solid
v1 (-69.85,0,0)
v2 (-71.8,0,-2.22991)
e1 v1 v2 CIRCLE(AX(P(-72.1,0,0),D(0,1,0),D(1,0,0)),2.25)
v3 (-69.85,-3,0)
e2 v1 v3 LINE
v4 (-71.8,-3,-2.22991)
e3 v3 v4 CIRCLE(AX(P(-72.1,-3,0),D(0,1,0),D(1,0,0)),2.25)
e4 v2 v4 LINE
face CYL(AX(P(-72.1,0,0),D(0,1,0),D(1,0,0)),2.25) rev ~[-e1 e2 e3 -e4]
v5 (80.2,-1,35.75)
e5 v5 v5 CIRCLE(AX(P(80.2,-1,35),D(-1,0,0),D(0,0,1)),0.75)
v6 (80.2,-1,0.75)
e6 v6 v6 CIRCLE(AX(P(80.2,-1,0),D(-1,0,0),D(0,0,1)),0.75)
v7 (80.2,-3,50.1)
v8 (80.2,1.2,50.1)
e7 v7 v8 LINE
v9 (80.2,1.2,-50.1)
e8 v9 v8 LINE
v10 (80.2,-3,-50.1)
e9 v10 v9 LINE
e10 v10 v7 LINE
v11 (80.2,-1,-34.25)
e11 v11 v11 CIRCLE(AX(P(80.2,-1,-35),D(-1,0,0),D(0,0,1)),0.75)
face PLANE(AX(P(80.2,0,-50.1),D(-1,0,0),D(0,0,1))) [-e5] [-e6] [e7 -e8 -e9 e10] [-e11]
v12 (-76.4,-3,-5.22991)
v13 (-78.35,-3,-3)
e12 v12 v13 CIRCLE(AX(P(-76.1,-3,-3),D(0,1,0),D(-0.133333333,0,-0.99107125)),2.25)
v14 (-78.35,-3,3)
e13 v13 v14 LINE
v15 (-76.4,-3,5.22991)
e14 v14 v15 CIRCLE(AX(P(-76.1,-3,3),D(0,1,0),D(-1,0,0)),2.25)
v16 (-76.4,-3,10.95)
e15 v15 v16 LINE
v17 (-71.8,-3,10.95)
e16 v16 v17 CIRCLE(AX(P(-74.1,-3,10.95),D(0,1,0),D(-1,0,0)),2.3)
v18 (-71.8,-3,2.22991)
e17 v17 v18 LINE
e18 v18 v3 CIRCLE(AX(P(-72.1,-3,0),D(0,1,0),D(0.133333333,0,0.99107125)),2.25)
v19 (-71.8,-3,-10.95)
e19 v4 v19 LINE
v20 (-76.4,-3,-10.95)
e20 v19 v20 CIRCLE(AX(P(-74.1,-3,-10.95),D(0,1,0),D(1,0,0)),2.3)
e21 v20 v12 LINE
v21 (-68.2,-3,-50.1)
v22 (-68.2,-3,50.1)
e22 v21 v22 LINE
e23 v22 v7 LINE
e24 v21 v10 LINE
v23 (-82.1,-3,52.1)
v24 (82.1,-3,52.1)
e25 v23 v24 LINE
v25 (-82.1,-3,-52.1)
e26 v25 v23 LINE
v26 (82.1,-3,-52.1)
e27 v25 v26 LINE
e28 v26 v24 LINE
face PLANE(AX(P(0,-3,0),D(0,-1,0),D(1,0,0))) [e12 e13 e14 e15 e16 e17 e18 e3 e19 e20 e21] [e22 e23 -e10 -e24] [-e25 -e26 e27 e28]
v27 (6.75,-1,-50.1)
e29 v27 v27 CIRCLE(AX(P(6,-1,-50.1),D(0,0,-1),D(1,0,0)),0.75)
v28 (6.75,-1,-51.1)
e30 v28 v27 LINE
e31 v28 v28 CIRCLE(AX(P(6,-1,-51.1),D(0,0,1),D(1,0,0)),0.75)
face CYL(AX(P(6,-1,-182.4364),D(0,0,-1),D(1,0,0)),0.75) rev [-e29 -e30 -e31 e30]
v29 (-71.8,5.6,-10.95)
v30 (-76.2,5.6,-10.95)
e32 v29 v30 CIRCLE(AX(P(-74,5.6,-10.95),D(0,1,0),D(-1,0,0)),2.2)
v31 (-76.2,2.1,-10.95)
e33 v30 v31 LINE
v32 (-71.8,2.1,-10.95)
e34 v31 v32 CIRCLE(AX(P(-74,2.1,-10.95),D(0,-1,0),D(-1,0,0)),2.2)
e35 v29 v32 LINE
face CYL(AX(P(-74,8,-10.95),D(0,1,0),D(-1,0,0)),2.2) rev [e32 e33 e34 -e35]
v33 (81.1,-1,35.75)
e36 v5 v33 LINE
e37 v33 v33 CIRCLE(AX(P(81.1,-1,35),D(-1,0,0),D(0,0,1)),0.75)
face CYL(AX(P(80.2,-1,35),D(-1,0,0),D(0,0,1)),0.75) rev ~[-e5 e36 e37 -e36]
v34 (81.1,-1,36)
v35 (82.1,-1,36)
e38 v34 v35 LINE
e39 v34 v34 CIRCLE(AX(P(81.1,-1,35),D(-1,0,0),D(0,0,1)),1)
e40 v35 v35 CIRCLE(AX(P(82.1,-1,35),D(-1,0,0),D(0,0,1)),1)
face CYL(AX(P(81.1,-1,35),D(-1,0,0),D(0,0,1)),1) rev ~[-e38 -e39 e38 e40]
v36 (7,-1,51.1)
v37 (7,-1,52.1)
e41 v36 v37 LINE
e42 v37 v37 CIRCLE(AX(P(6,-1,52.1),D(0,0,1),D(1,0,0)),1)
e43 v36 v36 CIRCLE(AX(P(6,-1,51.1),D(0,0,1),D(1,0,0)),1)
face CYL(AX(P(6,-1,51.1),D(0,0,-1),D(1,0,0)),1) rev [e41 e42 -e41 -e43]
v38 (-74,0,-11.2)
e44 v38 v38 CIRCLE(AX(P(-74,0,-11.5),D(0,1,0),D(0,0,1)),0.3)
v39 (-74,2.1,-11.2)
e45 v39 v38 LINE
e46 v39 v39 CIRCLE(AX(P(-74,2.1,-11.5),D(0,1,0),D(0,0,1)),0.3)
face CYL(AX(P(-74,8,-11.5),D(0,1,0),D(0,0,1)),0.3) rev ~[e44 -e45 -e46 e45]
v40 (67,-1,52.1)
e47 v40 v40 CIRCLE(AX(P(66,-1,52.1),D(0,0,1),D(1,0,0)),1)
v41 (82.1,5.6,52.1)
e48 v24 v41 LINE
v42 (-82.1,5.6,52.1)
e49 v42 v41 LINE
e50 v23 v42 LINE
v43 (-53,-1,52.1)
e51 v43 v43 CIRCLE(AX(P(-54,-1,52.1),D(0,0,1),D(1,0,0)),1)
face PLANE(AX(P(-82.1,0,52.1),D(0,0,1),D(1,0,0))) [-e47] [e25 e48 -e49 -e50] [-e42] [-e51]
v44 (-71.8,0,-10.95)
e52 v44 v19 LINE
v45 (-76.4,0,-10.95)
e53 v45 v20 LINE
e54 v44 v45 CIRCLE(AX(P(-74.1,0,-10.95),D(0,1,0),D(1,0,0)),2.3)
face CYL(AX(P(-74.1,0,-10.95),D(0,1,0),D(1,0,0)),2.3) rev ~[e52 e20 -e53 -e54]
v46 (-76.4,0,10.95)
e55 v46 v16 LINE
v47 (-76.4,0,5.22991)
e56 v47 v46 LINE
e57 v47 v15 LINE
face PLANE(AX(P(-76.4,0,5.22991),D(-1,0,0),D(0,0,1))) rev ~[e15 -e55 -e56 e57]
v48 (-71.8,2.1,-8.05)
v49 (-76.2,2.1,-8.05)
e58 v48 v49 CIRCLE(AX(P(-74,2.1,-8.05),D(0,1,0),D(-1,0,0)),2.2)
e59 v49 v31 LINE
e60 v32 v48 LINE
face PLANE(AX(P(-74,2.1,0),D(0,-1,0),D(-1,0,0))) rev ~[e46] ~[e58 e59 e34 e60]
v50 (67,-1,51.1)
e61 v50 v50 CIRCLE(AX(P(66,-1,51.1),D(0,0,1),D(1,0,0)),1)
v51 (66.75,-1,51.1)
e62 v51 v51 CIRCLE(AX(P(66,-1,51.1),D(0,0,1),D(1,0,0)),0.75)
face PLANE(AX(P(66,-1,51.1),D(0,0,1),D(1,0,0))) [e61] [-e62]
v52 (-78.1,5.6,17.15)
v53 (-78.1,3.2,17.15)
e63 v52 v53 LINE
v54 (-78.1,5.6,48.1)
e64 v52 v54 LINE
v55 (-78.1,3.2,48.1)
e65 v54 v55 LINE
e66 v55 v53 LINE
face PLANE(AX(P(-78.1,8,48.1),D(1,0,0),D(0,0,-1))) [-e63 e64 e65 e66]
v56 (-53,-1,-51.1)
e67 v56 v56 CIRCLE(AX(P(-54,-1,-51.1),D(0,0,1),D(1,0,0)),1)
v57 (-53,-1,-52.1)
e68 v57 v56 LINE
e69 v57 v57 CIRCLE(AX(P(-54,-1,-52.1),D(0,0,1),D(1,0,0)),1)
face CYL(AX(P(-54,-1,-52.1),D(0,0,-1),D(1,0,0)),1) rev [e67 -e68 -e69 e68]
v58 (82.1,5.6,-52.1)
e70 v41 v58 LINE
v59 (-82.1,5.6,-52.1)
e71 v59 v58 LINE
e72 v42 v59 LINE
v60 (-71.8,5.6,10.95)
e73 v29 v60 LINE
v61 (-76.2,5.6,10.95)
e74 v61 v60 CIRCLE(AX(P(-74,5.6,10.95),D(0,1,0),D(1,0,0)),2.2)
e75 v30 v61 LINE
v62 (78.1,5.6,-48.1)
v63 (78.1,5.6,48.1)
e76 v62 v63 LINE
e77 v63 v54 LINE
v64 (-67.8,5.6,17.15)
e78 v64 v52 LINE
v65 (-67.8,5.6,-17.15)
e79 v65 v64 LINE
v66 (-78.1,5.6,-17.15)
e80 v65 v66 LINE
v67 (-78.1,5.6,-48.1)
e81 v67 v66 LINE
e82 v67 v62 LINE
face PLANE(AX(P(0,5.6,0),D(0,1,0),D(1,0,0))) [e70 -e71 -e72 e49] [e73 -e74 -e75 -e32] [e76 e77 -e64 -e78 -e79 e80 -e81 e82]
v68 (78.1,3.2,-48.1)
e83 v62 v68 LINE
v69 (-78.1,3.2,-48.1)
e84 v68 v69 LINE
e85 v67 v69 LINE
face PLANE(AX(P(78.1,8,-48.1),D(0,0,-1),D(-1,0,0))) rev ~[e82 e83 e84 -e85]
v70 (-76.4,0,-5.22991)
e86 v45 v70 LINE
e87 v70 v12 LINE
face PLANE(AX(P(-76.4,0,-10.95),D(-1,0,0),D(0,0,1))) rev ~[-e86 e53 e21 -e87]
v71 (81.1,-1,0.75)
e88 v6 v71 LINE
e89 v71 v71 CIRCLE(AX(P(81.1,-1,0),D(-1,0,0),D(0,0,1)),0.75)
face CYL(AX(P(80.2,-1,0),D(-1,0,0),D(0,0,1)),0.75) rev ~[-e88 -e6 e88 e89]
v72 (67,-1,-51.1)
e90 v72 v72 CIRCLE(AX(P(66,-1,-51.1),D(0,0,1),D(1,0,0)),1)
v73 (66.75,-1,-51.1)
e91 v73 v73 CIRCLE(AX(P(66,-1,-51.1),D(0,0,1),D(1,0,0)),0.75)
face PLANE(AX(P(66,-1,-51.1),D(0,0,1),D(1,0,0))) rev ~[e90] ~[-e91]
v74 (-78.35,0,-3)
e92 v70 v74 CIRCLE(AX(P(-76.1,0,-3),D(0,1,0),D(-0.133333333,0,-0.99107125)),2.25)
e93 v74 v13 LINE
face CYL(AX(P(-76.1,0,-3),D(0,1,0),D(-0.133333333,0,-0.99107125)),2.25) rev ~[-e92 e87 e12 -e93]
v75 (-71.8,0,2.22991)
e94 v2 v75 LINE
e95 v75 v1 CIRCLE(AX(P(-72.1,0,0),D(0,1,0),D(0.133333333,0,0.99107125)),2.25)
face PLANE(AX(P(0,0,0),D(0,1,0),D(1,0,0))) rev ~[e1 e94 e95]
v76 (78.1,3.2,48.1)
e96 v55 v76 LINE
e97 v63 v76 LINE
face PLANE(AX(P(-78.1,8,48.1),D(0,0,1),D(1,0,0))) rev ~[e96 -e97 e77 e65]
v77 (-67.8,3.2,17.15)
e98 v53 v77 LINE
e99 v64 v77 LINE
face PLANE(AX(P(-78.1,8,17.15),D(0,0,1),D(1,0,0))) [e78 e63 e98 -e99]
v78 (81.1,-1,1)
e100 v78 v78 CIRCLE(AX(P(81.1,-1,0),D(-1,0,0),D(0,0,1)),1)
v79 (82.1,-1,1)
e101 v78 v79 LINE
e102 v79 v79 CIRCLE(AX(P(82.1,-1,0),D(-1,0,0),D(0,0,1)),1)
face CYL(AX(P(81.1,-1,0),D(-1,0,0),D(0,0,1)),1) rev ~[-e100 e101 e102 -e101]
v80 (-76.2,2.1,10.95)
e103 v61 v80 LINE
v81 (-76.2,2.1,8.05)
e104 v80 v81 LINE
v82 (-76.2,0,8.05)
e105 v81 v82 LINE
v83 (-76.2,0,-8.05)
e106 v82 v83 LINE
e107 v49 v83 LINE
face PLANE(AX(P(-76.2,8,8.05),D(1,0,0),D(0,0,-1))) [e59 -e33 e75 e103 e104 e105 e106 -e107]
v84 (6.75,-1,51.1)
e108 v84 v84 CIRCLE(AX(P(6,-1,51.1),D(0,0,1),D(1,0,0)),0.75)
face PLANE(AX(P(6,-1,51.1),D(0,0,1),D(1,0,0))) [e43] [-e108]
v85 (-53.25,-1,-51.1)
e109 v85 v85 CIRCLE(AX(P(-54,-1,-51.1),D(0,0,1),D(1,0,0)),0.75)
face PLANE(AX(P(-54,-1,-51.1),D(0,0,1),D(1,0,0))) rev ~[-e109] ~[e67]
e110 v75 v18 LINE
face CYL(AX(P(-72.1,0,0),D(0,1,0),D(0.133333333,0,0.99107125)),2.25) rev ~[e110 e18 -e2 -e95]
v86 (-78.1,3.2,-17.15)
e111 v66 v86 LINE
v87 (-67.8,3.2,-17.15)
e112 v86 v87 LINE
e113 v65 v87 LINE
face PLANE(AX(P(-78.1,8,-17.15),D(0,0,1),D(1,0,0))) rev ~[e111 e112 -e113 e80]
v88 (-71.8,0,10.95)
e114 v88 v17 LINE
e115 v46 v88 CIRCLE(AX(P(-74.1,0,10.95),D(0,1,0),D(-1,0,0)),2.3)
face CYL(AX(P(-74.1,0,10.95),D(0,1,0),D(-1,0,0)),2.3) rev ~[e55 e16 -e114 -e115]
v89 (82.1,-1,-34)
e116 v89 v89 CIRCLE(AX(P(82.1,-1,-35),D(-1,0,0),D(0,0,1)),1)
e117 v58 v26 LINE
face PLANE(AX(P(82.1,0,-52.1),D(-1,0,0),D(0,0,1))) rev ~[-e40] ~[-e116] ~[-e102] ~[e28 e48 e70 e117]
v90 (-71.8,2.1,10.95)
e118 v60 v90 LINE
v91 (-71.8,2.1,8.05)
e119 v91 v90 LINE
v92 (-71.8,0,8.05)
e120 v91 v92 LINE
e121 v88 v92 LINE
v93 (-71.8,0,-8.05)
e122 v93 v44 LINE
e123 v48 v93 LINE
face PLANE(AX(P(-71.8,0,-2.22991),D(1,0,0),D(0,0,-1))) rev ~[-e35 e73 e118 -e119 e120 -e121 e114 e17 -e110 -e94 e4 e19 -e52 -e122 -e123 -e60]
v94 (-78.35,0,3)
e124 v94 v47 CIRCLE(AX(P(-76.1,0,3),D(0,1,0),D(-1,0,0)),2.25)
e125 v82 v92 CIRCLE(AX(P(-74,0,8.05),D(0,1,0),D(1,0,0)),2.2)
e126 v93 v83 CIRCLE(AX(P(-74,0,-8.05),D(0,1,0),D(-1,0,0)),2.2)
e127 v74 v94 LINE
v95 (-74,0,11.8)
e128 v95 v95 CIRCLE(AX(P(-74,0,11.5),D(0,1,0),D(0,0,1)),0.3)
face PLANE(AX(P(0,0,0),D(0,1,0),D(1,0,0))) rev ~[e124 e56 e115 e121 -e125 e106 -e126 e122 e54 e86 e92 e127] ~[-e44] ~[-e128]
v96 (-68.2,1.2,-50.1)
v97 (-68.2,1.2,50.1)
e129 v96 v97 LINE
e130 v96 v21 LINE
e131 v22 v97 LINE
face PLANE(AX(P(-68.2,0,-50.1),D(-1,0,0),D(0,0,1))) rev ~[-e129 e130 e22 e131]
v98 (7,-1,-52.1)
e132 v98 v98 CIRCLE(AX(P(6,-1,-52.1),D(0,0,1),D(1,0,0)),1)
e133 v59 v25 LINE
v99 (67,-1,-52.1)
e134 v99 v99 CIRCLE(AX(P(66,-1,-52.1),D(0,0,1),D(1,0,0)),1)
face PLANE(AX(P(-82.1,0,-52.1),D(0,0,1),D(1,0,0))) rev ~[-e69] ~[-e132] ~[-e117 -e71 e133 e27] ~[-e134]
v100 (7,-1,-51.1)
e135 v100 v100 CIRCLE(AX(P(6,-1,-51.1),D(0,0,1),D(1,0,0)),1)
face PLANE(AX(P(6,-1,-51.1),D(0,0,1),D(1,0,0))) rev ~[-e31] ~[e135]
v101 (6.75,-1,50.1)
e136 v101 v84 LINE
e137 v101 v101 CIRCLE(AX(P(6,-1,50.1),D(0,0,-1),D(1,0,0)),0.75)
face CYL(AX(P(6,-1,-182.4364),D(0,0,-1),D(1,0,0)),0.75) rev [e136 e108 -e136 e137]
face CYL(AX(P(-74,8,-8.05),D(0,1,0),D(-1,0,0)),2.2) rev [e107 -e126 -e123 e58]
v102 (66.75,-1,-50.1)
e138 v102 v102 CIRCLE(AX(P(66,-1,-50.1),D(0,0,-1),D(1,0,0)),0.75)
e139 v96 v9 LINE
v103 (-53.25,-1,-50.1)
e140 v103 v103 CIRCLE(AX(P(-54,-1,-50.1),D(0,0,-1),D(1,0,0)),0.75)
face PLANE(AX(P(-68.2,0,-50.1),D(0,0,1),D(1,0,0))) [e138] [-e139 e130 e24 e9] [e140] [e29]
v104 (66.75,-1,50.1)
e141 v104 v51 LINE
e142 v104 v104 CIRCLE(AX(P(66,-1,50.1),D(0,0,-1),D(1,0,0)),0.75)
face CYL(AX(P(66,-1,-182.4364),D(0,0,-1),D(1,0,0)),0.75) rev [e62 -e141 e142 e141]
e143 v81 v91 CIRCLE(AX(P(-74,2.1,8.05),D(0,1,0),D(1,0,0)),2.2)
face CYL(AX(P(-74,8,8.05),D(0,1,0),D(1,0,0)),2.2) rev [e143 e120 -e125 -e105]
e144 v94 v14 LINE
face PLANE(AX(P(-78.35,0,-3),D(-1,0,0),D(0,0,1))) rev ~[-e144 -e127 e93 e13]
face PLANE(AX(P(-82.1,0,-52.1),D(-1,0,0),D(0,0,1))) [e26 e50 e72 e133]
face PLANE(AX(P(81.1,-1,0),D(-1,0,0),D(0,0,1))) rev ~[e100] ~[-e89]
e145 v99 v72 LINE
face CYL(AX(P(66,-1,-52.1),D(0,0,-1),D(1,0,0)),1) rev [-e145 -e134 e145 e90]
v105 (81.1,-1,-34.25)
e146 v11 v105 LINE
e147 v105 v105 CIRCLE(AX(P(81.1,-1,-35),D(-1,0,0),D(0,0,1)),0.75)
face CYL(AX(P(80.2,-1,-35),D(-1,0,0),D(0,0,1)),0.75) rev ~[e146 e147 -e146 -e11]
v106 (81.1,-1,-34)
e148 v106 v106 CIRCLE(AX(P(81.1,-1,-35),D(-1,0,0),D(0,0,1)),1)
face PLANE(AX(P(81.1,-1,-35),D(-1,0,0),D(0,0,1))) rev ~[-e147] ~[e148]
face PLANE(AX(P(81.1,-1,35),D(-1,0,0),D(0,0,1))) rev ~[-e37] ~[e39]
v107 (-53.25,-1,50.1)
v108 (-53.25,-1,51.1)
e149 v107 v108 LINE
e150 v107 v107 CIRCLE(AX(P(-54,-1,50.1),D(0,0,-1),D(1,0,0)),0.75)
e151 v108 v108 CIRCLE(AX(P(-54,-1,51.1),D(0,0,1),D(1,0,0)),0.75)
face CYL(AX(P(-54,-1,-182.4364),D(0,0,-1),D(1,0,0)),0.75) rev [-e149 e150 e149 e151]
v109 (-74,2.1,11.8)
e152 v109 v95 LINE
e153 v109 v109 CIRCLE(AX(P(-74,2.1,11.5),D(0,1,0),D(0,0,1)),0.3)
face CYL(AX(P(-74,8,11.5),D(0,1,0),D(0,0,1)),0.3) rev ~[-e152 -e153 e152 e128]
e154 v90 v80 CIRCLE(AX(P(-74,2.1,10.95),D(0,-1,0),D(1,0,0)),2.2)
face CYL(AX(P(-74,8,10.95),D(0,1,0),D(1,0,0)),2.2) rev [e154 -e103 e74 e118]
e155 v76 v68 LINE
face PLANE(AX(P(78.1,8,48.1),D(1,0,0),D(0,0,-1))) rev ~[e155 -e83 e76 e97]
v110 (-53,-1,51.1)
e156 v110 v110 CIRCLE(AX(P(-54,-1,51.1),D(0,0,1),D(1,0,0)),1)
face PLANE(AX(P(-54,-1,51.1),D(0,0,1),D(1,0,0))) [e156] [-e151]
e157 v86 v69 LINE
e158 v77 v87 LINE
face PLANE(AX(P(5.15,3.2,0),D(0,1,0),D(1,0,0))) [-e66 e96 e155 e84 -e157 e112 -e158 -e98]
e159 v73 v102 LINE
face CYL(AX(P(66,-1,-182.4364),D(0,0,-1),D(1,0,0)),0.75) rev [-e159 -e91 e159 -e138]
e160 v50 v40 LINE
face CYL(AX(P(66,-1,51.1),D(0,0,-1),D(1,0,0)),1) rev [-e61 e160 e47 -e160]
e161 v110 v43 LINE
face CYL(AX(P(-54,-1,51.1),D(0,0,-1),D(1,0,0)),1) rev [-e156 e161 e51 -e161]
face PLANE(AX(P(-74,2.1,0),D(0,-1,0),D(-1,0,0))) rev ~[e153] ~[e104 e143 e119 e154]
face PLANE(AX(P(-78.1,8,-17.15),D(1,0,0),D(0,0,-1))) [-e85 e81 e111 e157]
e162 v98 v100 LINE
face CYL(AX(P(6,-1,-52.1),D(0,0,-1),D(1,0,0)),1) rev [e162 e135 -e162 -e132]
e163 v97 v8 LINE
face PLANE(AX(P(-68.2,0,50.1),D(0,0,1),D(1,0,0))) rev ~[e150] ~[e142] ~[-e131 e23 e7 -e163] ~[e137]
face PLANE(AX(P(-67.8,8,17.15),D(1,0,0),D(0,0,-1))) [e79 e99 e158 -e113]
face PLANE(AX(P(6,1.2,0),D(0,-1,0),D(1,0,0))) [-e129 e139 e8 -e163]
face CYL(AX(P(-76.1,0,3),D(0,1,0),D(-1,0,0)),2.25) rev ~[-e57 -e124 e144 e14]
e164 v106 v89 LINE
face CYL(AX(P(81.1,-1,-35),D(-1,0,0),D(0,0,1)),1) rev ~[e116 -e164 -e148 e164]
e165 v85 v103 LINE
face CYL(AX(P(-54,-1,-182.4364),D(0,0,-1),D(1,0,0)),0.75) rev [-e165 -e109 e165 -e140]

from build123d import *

# Parameters (mm, degrees)
SKETCH_1_W               = 164.2
SKETCH_1_H               = 104.2
EXTRUDE_1_DEPTH          = 8
SKETCH_2_R               = 0.3
CUT_EXTRUDE_1_DEPTH      = 98.564440243
CUT_EXTRUDE_2_DEPTH      = 5.9
SKETCH_5_W               = 148.4
SKETCH_5_H               = 100.2
CUT_EXTRUDE_5_DEPTH      = 1.2
SKETCH_6_W               = 164.2
SKETCH_6_H               = 104.2
SKETCH_6_W_2             = 148.4
SKETCH_6_H_2             = 100.2
EXTRUDE_2_DEPTH          = 3
CUT_EXTRUDE_6_DEPTH      = 132.336400133
CUT_EXTRUDE_6_DEPTH_BACK = 132.336400133
SKETCH_7_R               = 0.75
CUT_EXTRUDE_START        = -2
SKETCH_7_3_R             = 1
SKETCH_7_3_R_2           = 0.75
CUT_EXTRUDE_7_DEPTH      = 1
CUT_EXTRUDE_START_2      = 101.2
SKETCH_7_4_R             = 1
SKETCH_7_4_R_2           = 0.75
CUT_EXTRUDE_8_DEPTH      = 1
SKETCH_8_R               = 0.75
CUT_EXTRUDE_9_DEPTH      = 171.644953046
CUT_EXTRUDE_START_3      = -0.9
SKETCH_8_3_R             = 1
SKETCH_8_3_R_2           = 0.75
CUT_EXTRUDE_10_DEPTH     = 1
SKETCH_3_W               = 145.9
SKETCH_3_H               = 96.2
SKETCH_3_W_2             = 10.3
SKETCH_3_H_2             = 30.95
CUT_EXTRUDE_11_DEPTH     = 4.8
SKETCH_9_W               = 164.2
SKETCH_9_H               = 104.2
CUT_EXTRUDE_12_DEPTH     = 2.4


with BuildPart() as part:
    # 草图1 → 凸台-拉伸1 (new body)
    with BuildSketch(Plane(origin=(0, 0, 0), x_dir=(1, 0, 0), z_dir=(0, 1, 0))):
        Rectangle(SKETCH_1_W, SKETCH_1_H)
    extrude(amount=EXTRUDE_1_DEPTH)

    # 草图2 → 切除-拉伸1 (cut, through all)
    with BuildSketch(Plane(origin=(0, 8, 0), x_dir=(1, 0, 0), z_dir=(0, 1, 0))):
        with Locations(Location((-74, 11.5, 0), (0, 0, 270))):
            Circle(SKETCH_2_R)
        with Locations(Location((-74, -11.5, 0), (0, 0, 270))):
            Circle(SKETCH_2_R)
        with BuildLine():
            Line((-76.2, -8.05), (-76.2, 8.05))
            ThreePointArc((-76.2, 8.05), (-74, 10.25), (-71.8, 8.05))
            Line((-71.8, 8.05), (-71.8, -8.05))
            ThreePointArc((-71.8, -8.05), (-74, -10.25), (-76.2, -8.05))
        make_face()
    extrude(amount=-CUT_EXTRUDE_1_DEPTH, mode=Mode.SUBTRACT)

    # 草图2<3> → 切除-拉伸2 (cut)
    with BuildSketch(Plane(origin=(0, 8, 0), x_dir=(1, 0, 0), z_dir=(0, 1, 0))):
        with BuildLine():
            Line((-71.8, 10.95), (-71.8, -10.95))
            ThreePointArc((-71.8, -10.95), (-74, -13.15), (-76.2, -10.95))
            Line((-76.2, -10.95), (-76.2, 10.95))
            ThreePointArc((-76.2, 10.95), (-74, 13.15), (-71.8, 10.95))
        make_face()
    extrude(amount=-CUT_EXTRUDE_2_DEPTH, mode=Mode.SUBTRACT)

    # 草图5 → 切除-拉伸5 (cut)
    with BuildSketch(Plane.XZ):
        with Locations((6, 0)):
            Rectangle(SKETCH_5_W, SKETCH_5_H)
    extrude(amount=-CUT_EXTRUDE_5_DEPTH, mode=Mode.SUBTRACT)

    # 草图6 → 凸台-拉伸2 (add)
    with BuildSketch(Plane.XZ):
        Rectangle(SKETCH_6_W, SKETCH_6_H)
        with BuildLine():
            ThreePointArc((-71.8, -10.95), (-74.1, -13.25), (-76.4, -10.95))
            Line((-76.4, -10.95), (-76.4, -5.229910312))
            ThreePointArc((-76.4, -5.229910312), (-77.793738469, -4.481131324), (-78.35, -3))
            Line((-78.35, -3), (-78.35, 3))
            ThreePointArc((-78.35, 3), (-77.793738469, 4.481131324), (-76.4, 5.229910312))
            Line((-76.4, 5.229910312), (-76.4, 10.95))
            ThreePointArc((-76.4, 10.95), (-74.1, 13.25), (-71.8, 10.95))
            Line((-71.8, 10.95), (-71.8, 8.05))
            Line((-71.8, 8.05), (-71.8, 2.229910312))
            ThreePointArc((-71.8, 2.229910312), (-70.406261531, 1.481131324), (-69.85, 0))
            ThreePointArc((-69.85, 0), (-70.406261531, -1.481131324), (-71.8, -2.229910312))
            Line((-71.8, -2.229910312), (-71.8, -8.05))
            Line((-71.8, -8.05), (-71.8, -10.95))
        make_face(mode=Mode.SUBTRACT)
        with Locations((6, 0)):
            Rectangle(SKETCH_6_W_2, SKETCH_6_H_2, mode=Mode.SUBTRACT)
    extrude(amount=EXTRUDE_2_DEPTH)

    # 草图7 → 切除-拉伸6 (cut, two sides: drawn at the far end of the back side and taken through both)
    with BuildSketch(Plane.XY.offset(-50.1).offset(-CUT_EXTRUDE_6_DEPTH_BACK)):
        with Locations((6, -1)):
            Circle(SKETCH_7_R)
        with Locations((-54, -1)):
            Circle(SKETCH_7_R)
        with Locations((66, -1)):
            Circle(SKETCH_7_R)
    extrude(amount=CUT_EXTRUDE_6_DEPTH + CUT_EXTRUDE_6_DEPTH_BACK, mode=Mode.SUBTRACT)

    # 草图7<3> → 切除-拉伸7 (cut)
    # profile 1 of 3: a face of its own
    with BuildSketch(Plane.XY.offset(-50.1).offset(CUT_EXTRUDE_START)):
        with Locations((6, -1)):
            Circle(SKETCH_7_3_R)
        with Locations((6, -1)):
            Circle(SKETCH_7_3_R_2, mode=Mode.SUBTRACT)
    # profile 2 of 3: a face of its own
    with BuildSketch(Plane.XY.offset(-50.1).offset(CUT_EXTRUDE_START)):
        with Locations((66, -1)):
            Circle(SKETCH_7_3_R)
        with Locations((66, -1)):
            Circle(SKETCH_7_3_R_2, mode=Mode.SUBTRACT)
    # profile 3 of 3: a face of its own
    with BuildSketch(Plane.XY.offset(-50.1).offset(CUT_EXTRUDE_START)):
        with Locations((-54, -1)):
            Circle(SKETCH_7_3_R)
        with Locations((-54, -1)):
            Circle(SKETCH_7_3_R_2, mode=Mode.SUBTRACT)
    extrude(amount=CUT_EXTRUDE_7_DEPTH, mode=Mode.SUBTRACT)

    # 草图7<4> → 切除-拉伸8 (cut)
    # profile 1 of 3: a face of its own
    with BuildSketch(Plane.XY.offset(-50.1).offset(CUT_EXTRUDE_START_2)):
        with Locations((6, -1)):
            Circle(SKETCH_7_4_R)
        with Locations((6, -1)):
            Circle(SKETCH_7_4_R_2, mode=Mode.SUBTRACT)
    # profile 2 of 3: a face of its own
    with BuildSketch(Plane.XY.offset(-50.1).offset(CUT_EXTRUDE_START_2)):
        with Locations((66, -1)):
            Circle(SKETCH_7_4_R)
        with Locations((66, -1)):
            Circle(SKETCH_7_4_R_2, mode=Mode.SUBTRACT)
    # profile 3 of 3: a face of its own
    with BuildSketch(Plane.XY.offset(-50.1).offset(CUT_EXTRUDE_START_2)):
        with Locations((-54, -1)):
            Circle(SKETCH_7_4_R)
        with Locations((-54, -1)):
            Circle(SKETCH_7_4_R_2, mode=Mode.SUBTRACT)
    extrude(amount=CUT_EXTRUDE_8_DEPTH, mode=Mode.SUBTRACT)

    # 草图8 → 切除-拉伸9 (cut, through all)
    with BuildSketch(Plane.ZY.offset(-80.2)):
        with Locations((-35, -1)):
            Circle(SKETCH_8_R)
        with Locations((0, -1)):
            Circle(SKETCH_8_R)
        with Locations((35, -1)):
            Circle(SKETCH_8_R)
    extrude(amount=-CUT_EXTRUDE_9_DEPTH, mode=Mode.SUBTRACT)

    # 草图8<3> → 切除-拉伸10 (cut)
    # profile 1 of 3: a face of its own
    with BuildSketch(Plane.ZY.offset(-80.2).offset(CUT_EXTRUDE_START_3)):
        with Locations((0, -1)):
            Circle(SKETCH_8_3_R)
        with Locations((0, -1)):
            Circle(SKETCH_8_3_R_2, mode=Mode.SUBTRACT)
    # profile 2 of 3: a face of its own
    with BuildSketch(Plane.ZY.offset(-80.2).offset(CUT_EXTRUDE_START_3)):
        with Locations((-35, -1)):
            Circle(SKETCH_8_3_R)
        with Locations((-35, -1)):
            Circle(SKETCH_8_3_R_2, mode=Mode.SUBTRACT)
    # profile 3 of 3: a face of its own
    with BuildSketch(Plane.ZY.offset(-80.2).offset(CUT_EXTRUDE_START_3)):
        with Locations((35, -1)):
            Circle(SKETCH_8_3_R)
        with Locations((35, -1)):
            Circle(SKETCH_8_3_R_2, mode=Mode.SUBTRACT)
    extrude(amount=-CUT_EXTRUDE_10_DEPTH, mode=Mode.SUBTRACT)

    # 草图3 → 切除-拉伸11 (cut)
    with BuildSketch(Plane(origin=(0, 8, 0), x_dir=(1, 0, 0), z_dir=(0, 1, 0))):
        with Locations((5.15, 0)):
            Rectangle(SKETCH_3_W, SKETCH_3_H)
        with Locations((-72.95, 32.625)):
            Rectangle(SKETCH_3_W_2, SKETCH_3_H_2)
        with Locations((-72.95, -32.625)):
            Rectangle(SKETCH_3_W_2, SKETCH_3_H_2)
    extrude(amount=-CUT_EXTRUDE_11_DEPTH, mode=Mode.SUBTRACT)

    # 草图9 → 切除-拉伸12 (cut)
    with BuildSketch(Plane(origin=(0, 8, 0), x_dir=(1, 0, 0), z_dir=(0, 1, 0))):
        Rectangle(SKETCH_9_W, SKETCH_9_H)
    extrude(amount=-CUT_EXTRUDE_12_DEPTH, mode=Mode.SUBTRACT)


solid = part.part
